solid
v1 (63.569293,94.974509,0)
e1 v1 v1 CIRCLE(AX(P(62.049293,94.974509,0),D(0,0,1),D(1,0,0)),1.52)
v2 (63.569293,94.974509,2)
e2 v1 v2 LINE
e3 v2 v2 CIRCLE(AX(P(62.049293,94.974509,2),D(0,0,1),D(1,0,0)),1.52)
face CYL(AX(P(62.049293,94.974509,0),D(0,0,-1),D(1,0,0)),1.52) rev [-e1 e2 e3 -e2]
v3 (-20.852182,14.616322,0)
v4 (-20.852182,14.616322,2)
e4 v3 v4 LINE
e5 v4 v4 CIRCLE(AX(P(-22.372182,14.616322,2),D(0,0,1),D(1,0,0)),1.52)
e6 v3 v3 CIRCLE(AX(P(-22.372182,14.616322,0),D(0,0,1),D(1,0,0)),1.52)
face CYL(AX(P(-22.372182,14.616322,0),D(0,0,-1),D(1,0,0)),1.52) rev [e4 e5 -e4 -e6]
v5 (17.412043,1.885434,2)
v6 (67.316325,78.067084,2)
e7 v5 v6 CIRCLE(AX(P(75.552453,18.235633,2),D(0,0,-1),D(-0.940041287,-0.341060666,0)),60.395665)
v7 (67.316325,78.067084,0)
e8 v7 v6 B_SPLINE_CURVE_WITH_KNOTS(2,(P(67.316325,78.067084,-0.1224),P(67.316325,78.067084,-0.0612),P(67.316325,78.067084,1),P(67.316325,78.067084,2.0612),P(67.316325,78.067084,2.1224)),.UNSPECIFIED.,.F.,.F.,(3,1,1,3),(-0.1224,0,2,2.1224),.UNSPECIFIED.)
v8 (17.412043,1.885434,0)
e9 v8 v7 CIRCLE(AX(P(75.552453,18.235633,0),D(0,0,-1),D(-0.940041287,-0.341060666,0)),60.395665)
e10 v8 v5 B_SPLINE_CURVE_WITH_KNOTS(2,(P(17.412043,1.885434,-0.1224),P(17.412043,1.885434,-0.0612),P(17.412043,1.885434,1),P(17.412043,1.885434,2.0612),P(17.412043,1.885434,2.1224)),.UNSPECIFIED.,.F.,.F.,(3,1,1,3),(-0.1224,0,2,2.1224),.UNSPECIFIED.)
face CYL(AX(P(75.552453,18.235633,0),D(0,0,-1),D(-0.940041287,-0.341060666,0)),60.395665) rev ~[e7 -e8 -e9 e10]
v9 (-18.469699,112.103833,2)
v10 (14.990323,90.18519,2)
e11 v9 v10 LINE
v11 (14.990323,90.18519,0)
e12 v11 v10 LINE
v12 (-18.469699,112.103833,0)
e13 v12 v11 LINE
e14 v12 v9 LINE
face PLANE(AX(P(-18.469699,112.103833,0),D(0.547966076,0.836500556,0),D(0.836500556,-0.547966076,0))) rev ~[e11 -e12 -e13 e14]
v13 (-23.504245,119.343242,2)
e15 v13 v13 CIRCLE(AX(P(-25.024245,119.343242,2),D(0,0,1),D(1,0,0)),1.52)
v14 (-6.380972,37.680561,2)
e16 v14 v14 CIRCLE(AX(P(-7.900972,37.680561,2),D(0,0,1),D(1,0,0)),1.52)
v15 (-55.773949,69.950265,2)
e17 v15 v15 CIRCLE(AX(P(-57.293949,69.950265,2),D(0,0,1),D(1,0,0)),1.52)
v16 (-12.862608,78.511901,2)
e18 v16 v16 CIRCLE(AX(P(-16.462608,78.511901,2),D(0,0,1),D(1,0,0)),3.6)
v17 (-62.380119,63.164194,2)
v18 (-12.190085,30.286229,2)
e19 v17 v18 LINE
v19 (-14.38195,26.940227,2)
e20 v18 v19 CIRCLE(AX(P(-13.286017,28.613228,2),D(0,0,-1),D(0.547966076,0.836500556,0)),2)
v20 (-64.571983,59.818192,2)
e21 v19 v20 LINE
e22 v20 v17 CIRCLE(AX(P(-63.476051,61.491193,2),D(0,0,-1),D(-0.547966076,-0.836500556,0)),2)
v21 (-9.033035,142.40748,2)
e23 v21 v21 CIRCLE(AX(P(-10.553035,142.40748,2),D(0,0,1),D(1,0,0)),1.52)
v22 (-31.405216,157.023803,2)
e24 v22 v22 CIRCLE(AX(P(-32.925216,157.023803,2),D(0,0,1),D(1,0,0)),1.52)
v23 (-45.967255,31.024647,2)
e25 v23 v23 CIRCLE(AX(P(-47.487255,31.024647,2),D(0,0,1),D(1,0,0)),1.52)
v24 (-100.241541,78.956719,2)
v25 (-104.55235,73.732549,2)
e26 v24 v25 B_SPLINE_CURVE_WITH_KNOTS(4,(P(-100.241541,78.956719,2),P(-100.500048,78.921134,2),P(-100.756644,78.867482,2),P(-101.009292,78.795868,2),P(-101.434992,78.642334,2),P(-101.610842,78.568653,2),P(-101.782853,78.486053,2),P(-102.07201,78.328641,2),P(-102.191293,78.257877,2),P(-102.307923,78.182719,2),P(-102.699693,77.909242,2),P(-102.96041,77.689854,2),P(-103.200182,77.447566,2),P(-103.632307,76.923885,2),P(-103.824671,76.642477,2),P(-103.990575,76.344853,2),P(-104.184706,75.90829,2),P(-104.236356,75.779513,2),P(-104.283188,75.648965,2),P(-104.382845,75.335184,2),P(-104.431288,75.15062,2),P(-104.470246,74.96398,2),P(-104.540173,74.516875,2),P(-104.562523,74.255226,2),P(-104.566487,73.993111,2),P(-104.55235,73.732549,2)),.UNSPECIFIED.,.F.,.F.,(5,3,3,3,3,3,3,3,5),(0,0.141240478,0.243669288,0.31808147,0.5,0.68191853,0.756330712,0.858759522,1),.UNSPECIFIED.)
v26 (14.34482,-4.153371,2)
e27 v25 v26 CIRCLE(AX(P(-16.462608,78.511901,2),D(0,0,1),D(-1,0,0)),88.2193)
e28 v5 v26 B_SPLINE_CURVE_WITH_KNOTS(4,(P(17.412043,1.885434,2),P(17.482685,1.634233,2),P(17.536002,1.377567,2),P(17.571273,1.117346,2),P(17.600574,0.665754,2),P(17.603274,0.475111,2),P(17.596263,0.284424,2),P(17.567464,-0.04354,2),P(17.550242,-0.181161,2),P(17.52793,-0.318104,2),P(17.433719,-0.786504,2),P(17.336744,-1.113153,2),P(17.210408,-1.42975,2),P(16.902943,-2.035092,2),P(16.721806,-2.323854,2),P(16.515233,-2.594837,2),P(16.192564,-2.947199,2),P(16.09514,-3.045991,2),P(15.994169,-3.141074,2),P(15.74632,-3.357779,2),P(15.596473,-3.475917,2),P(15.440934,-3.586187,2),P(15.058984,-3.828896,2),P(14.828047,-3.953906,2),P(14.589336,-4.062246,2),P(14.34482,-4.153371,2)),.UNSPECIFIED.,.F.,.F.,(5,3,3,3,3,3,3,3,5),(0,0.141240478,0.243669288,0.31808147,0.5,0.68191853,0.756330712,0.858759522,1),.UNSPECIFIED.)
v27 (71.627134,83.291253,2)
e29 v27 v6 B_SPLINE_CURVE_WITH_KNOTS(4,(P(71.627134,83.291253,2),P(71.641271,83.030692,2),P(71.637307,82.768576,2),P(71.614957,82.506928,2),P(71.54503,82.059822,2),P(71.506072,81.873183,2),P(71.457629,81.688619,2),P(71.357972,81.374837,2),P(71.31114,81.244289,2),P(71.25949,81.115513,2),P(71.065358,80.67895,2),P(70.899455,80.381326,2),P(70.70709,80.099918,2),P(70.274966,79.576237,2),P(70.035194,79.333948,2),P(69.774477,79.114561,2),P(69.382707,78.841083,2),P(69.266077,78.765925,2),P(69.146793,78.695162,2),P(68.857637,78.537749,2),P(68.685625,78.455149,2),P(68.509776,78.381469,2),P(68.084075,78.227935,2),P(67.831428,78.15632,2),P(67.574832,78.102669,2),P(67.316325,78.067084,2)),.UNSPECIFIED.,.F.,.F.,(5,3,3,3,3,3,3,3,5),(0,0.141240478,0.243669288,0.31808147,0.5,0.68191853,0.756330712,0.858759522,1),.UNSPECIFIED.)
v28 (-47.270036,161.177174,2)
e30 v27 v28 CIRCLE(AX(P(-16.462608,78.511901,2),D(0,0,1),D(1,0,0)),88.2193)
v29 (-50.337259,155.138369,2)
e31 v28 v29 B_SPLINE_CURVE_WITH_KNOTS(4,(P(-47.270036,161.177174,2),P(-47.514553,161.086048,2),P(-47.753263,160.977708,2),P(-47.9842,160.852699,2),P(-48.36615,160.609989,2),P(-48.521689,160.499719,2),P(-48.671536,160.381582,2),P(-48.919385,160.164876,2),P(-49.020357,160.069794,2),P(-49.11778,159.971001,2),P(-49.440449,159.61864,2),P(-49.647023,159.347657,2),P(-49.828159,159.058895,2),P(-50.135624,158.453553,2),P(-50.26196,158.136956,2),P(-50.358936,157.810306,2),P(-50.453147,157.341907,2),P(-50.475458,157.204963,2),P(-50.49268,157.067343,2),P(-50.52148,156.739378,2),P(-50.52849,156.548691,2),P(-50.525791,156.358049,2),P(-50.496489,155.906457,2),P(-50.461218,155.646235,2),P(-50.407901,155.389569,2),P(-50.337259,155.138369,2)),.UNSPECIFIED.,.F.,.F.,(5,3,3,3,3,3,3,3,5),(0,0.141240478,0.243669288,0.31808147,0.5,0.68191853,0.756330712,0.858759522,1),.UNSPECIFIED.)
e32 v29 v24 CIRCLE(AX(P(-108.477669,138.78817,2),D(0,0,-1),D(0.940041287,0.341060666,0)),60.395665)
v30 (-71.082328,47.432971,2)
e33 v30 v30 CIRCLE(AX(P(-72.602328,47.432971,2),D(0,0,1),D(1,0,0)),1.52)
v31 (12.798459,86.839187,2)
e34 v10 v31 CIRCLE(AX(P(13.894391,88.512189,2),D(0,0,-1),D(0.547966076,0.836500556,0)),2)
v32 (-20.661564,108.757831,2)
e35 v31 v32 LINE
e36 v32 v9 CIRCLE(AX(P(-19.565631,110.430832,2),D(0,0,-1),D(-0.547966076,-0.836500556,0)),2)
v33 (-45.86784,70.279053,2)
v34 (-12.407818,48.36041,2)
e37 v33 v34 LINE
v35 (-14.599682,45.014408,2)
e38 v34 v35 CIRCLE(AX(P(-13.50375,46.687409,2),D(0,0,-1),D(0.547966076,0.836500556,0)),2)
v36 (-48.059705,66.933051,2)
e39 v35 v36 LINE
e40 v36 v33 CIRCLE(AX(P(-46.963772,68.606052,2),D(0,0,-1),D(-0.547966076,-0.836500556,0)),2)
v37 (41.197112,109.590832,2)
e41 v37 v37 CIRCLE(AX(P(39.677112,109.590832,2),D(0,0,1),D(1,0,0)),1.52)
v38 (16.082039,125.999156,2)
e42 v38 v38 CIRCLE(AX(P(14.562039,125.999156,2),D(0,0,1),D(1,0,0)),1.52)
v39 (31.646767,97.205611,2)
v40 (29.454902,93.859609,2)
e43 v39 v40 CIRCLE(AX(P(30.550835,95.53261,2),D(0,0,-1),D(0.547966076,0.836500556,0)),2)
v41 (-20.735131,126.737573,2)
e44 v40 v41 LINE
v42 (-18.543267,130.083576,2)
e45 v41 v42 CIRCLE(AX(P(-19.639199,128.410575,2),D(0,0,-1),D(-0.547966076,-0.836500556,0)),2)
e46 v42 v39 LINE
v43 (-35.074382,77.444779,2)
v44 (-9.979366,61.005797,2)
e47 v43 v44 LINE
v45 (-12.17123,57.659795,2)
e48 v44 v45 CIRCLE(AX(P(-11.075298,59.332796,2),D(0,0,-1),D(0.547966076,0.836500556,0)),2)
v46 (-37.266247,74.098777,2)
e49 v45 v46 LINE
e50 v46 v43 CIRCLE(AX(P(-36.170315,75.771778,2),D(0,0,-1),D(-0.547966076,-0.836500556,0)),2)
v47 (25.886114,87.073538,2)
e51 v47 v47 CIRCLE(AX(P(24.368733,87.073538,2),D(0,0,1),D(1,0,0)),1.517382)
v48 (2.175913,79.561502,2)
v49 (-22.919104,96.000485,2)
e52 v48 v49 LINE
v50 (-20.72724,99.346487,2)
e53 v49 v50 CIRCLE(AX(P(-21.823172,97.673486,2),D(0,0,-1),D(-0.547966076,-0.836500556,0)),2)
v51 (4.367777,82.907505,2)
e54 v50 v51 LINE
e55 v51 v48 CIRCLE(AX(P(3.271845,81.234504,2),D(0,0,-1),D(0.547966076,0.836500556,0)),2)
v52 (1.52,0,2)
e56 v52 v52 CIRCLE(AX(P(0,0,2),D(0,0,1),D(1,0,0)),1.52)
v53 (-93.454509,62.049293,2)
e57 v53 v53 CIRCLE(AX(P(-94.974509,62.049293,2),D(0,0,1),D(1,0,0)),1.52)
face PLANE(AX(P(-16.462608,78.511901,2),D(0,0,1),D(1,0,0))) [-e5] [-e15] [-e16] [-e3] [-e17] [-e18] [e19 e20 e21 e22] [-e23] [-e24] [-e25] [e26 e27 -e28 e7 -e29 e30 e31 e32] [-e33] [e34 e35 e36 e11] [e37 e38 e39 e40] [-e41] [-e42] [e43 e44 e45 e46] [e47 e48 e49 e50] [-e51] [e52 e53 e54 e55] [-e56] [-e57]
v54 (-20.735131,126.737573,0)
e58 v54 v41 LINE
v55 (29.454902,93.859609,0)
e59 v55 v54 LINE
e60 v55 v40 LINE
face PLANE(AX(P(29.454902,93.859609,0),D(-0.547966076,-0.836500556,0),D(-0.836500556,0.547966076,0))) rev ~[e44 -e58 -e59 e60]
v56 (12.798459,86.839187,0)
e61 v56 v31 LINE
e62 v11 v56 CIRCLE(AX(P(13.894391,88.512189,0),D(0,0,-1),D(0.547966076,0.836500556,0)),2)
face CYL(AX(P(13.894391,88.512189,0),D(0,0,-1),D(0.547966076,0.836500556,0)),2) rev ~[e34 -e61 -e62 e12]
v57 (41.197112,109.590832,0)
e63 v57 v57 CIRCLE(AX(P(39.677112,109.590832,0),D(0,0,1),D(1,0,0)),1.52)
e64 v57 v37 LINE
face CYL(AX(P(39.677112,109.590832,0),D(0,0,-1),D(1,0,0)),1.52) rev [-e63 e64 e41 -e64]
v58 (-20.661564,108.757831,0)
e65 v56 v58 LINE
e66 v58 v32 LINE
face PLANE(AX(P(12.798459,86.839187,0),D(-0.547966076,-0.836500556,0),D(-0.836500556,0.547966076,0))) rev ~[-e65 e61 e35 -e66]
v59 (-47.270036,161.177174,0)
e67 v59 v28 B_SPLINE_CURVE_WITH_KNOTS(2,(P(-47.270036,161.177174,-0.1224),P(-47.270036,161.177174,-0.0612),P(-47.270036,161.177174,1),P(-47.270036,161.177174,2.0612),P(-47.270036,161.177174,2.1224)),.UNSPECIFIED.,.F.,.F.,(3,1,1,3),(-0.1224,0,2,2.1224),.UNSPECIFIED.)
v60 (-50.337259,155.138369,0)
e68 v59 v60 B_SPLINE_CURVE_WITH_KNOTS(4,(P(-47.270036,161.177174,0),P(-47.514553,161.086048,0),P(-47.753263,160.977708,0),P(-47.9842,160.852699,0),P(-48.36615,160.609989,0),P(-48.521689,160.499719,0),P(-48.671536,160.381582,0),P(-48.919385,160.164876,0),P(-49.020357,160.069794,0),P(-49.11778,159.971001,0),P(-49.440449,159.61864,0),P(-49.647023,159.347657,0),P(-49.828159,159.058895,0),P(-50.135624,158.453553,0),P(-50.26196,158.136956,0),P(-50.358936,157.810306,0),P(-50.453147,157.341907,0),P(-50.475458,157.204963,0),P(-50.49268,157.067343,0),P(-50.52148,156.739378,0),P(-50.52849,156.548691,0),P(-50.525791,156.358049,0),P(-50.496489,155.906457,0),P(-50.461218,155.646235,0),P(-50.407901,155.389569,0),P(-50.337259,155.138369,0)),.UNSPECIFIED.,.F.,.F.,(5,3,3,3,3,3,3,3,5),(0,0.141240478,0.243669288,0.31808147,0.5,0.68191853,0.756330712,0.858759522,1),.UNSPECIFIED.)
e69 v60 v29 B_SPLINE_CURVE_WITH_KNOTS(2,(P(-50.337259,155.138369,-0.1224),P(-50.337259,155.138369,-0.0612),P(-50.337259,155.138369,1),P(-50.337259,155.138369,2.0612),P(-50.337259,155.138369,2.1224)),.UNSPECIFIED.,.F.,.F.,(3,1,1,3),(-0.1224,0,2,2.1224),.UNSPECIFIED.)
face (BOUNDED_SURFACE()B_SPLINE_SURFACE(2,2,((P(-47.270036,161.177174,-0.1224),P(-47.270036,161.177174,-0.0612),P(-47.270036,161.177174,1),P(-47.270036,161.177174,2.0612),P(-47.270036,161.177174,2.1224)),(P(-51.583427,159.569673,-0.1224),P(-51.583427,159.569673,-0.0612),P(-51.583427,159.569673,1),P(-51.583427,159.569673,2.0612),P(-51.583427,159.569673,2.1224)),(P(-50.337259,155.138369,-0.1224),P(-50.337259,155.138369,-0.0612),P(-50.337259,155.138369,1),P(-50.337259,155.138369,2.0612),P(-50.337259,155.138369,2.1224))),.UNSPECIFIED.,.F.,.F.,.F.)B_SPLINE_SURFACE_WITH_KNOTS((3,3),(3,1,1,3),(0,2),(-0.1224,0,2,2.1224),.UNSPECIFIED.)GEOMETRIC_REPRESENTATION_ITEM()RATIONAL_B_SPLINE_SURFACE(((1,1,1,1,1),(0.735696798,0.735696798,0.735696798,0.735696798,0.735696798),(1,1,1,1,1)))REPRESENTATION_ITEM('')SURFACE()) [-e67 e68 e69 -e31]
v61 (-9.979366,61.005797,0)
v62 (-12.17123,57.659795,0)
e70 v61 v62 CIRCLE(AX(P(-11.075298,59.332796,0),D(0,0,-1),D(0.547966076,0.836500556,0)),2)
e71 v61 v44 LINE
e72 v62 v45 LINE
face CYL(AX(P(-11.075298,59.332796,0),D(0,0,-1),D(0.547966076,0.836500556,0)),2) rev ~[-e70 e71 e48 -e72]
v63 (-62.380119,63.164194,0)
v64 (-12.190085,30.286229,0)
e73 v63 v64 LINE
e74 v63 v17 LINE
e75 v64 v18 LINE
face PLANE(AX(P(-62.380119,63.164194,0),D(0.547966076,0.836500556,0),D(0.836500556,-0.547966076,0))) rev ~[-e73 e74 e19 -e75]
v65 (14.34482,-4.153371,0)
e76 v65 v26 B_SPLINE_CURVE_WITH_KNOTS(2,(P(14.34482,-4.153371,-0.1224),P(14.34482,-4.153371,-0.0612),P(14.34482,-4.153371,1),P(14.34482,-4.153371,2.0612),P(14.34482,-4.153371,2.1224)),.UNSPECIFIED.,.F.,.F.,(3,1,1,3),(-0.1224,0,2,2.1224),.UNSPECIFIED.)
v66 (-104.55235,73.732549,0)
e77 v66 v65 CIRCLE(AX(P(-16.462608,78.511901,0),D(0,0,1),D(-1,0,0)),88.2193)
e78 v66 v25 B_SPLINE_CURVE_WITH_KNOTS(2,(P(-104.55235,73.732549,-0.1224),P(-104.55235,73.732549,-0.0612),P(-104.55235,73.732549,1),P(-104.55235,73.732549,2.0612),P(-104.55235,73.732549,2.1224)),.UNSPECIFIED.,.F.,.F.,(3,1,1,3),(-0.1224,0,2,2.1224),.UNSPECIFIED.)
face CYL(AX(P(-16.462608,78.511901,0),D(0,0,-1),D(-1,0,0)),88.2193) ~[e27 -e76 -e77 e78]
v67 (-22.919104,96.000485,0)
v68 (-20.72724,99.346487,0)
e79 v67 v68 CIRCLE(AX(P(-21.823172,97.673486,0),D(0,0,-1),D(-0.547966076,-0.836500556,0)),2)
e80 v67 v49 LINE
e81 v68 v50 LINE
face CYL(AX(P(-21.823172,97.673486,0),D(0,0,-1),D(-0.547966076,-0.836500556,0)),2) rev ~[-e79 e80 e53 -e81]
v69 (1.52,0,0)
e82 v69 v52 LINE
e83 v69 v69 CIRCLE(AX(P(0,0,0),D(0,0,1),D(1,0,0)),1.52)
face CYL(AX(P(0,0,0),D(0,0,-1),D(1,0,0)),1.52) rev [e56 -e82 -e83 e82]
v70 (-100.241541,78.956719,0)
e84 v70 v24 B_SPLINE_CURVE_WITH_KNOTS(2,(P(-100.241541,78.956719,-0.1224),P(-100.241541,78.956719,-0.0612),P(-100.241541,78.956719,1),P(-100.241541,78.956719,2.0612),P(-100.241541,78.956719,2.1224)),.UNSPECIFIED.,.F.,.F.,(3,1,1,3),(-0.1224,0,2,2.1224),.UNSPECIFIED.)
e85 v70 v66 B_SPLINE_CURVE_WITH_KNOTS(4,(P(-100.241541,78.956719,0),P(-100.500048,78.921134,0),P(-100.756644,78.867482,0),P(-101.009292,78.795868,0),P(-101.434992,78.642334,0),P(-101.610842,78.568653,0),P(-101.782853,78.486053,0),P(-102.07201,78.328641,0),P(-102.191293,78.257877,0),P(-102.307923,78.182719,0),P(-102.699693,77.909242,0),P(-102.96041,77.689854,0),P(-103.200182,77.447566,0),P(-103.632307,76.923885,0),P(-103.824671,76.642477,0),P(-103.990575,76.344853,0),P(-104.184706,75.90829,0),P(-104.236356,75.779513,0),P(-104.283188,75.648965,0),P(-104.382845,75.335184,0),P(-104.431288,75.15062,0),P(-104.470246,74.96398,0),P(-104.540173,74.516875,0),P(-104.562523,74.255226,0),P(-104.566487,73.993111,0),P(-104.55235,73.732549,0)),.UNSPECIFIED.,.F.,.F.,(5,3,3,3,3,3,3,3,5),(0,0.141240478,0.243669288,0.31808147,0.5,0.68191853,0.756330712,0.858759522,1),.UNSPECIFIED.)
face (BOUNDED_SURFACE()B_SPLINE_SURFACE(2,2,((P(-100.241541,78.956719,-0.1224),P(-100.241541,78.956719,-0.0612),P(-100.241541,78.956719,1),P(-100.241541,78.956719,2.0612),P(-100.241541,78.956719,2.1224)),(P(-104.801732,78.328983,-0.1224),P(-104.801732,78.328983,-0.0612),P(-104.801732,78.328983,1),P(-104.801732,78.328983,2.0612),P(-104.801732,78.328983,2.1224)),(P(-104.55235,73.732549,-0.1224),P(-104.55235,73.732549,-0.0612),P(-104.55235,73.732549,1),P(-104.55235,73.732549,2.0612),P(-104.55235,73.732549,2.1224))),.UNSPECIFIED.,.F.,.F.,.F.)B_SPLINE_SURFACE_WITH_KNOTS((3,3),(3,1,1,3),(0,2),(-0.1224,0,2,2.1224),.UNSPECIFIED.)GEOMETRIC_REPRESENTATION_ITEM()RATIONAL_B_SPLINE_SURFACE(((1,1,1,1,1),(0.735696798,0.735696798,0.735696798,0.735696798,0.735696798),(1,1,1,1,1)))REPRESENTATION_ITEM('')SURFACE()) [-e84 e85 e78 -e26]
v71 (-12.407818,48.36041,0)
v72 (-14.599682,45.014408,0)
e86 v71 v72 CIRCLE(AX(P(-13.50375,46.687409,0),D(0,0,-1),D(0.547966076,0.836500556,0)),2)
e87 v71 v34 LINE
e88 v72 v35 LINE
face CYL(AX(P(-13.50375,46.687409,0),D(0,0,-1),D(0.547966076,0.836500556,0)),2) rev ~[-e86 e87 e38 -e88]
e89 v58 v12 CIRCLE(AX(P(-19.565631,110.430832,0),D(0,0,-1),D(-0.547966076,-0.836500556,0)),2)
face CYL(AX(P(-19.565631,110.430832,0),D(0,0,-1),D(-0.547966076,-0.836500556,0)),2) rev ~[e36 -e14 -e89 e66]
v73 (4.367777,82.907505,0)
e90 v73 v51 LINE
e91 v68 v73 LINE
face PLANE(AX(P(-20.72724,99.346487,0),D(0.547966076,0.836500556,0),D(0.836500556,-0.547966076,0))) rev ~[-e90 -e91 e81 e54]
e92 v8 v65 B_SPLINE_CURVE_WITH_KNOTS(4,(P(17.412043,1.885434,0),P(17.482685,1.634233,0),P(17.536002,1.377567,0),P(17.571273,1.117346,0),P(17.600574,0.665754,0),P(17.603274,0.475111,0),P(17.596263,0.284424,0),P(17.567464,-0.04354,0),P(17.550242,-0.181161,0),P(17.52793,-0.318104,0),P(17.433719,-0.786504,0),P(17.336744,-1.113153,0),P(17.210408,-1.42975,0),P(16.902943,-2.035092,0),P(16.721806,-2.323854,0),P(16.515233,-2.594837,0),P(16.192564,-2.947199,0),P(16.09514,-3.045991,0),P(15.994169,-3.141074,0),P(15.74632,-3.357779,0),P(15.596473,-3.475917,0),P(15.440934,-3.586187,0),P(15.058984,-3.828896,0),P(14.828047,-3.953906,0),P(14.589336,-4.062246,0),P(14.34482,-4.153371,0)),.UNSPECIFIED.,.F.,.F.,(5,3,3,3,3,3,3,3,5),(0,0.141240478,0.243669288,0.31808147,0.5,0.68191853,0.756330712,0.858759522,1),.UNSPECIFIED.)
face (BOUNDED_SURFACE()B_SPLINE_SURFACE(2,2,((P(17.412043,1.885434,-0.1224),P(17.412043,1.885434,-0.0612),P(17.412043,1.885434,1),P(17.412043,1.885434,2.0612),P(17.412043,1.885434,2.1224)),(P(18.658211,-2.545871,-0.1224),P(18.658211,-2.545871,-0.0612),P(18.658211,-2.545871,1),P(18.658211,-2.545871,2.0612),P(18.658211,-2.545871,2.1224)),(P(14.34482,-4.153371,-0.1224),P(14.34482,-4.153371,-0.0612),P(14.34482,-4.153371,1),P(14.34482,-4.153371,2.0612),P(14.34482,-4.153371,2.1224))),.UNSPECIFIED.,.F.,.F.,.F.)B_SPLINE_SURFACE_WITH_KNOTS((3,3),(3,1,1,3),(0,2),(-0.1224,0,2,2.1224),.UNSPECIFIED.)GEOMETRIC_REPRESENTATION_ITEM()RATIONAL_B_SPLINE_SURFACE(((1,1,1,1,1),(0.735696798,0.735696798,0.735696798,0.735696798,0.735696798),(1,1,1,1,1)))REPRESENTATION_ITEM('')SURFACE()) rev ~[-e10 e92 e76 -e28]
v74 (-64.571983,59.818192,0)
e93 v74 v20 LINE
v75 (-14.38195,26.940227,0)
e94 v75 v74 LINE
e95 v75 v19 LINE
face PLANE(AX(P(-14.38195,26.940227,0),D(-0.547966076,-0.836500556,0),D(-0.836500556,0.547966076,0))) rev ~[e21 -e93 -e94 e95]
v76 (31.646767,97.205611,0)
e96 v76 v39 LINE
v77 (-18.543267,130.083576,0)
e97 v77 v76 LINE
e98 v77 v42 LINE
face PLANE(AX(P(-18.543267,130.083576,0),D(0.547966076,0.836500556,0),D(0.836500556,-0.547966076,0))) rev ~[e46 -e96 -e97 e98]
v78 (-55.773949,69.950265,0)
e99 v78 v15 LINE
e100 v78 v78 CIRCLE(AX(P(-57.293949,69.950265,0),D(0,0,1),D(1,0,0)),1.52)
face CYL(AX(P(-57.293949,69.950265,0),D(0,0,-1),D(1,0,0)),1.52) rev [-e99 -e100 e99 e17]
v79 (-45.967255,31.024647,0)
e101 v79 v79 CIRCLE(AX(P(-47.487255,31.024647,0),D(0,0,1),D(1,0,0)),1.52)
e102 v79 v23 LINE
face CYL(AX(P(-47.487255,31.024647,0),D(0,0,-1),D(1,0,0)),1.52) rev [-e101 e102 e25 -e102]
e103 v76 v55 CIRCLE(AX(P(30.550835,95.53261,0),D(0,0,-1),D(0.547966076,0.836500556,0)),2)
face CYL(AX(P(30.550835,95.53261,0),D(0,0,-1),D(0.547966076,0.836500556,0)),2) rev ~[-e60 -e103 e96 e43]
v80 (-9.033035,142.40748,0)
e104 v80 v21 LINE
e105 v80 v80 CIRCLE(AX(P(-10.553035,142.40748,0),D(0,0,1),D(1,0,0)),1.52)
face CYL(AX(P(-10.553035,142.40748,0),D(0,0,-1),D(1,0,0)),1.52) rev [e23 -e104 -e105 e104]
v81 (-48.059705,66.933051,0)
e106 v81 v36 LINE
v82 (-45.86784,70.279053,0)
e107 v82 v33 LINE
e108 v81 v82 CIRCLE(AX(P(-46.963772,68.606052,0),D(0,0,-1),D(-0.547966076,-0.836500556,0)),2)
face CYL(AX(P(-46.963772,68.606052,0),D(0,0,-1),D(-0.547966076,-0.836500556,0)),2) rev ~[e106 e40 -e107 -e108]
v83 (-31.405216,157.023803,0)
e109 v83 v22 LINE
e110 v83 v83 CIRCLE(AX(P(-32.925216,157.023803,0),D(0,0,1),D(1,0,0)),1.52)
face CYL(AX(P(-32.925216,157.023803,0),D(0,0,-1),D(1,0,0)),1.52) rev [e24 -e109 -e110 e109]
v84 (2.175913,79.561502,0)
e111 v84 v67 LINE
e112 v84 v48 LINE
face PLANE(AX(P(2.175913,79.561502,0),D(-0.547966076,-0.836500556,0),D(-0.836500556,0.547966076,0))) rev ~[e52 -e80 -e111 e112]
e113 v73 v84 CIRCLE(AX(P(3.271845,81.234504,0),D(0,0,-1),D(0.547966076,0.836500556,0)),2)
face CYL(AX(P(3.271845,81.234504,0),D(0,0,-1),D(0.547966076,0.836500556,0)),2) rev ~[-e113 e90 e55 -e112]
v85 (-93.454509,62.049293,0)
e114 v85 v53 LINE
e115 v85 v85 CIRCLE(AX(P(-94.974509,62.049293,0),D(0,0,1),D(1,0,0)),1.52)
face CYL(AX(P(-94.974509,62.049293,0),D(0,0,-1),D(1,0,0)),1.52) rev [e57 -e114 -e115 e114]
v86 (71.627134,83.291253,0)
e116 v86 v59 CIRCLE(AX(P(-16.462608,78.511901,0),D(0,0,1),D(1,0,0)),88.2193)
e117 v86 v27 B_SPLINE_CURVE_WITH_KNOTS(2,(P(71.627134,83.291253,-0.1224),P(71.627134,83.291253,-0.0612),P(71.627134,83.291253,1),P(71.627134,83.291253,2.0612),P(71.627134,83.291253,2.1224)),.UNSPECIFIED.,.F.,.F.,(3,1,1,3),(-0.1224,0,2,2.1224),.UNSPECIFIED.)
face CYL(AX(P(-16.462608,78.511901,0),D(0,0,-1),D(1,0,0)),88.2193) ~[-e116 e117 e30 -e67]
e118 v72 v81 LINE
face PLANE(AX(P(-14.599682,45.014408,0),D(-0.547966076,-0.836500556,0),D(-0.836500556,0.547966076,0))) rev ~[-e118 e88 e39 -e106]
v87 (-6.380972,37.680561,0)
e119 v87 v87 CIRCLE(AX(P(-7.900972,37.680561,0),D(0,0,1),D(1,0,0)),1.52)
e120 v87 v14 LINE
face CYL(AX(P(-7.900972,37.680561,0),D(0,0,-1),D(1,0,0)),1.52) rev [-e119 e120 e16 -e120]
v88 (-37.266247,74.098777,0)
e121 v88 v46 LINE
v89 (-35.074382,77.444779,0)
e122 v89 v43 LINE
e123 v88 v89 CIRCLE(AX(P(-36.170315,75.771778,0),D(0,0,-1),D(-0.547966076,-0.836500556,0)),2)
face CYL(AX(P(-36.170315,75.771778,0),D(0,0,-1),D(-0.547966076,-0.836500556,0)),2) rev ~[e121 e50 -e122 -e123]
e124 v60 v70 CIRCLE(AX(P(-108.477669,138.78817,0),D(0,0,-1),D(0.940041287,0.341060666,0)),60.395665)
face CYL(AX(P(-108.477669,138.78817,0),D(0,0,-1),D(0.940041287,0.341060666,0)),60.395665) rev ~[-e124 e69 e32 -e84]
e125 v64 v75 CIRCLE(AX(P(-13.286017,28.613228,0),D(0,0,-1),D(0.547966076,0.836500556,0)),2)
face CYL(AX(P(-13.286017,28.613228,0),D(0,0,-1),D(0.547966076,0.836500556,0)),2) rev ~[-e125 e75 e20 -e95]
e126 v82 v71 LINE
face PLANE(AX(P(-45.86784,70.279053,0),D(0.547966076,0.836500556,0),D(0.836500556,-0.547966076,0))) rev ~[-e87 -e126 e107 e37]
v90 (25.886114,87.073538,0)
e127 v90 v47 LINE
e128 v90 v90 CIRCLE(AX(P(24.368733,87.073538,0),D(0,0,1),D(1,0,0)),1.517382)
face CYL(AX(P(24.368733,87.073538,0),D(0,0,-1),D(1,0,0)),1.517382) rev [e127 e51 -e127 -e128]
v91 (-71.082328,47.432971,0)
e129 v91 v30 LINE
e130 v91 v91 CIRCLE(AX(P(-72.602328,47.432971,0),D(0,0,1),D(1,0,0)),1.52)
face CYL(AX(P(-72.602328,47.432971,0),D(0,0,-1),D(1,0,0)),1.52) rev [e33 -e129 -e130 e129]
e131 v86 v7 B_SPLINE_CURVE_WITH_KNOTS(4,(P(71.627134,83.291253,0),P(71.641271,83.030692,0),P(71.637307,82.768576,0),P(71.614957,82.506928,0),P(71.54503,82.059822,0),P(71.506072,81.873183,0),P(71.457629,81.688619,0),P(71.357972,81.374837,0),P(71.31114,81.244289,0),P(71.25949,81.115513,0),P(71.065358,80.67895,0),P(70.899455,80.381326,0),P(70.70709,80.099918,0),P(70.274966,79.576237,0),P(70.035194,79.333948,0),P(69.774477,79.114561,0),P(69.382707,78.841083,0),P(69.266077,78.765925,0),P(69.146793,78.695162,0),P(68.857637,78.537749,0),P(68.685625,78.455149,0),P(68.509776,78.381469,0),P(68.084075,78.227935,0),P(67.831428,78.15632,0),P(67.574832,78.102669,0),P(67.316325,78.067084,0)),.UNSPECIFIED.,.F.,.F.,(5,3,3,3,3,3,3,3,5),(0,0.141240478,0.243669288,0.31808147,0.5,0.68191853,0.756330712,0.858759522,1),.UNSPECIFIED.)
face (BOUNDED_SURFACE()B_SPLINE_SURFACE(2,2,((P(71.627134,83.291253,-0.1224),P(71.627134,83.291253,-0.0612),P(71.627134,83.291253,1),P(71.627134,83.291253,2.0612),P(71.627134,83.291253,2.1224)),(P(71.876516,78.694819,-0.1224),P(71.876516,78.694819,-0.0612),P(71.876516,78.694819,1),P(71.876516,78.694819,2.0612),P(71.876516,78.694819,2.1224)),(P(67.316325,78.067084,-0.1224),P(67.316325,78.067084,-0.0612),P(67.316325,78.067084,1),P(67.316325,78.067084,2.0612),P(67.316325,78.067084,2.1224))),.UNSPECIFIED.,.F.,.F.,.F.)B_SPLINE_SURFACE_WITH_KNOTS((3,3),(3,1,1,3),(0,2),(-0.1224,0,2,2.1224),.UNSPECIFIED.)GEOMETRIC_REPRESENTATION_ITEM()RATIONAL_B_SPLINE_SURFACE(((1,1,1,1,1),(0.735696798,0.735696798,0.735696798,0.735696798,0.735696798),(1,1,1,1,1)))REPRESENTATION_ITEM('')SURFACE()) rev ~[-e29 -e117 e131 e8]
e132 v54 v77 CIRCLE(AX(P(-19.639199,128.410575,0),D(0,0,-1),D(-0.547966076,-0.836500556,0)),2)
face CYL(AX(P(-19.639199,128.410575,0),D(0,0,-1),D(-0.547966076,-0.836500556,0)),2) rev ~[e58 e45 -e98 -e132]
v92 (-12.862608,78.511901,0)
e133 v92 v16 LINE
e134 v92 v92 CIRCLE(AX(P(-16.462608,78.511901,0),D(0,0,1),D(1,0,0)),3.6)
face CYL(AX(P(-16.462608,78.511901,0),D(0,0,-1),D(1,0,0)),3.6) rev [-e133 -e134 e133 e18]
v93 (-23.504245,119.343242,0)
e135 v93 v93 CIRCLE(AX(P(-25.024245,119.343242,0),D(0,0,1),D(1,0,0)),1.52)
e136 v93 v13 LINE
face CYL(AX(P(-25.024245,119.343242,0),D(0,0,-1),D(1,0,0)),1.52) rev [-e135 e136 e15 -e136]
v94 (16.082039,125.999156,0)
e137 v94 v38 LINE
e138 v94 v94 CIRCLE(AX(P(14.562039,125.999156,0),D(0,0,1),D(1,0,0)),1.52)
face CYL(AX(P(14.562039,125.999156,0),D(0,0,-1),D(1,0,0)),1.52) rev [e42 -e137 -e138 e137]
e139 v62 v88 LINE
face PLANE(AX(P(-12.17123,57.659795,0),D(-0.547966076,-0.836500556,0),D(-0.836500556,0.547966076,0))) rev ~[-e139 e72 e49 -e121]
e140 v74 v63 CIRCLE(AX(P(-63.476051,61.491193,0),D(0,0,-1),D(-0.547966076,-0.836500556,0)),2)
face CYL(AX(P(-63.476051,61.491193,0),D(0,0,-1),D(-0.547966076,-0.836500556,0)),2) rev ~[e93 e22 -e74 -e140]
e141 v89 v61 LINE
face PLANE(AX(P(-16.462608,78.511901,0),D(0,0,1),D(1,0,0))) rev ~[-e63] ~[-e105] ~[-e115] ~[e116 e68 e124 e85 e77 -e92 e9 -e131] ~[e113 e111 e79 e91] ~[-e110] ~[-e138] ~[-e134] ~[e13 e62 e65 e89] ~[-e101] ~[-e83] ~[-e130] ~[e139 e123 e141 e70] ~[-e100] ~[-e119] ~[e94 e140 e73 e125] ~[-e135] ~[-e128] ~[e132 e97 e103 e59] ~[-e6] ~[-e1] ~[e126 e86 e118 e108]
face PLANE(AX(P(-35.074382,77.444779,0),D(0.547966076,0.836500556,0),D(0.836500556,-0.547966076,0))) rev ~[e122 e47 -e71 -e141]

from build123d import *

# Parameters (mm, degrees)
SKETCH_1_R      = 1.52
SKETCH_1_R_2    = 1.519999991
SKETCH_1_R_3    = 1.520000009
SKETCH_1_R_4    = 1.520000002
SKETCH_1_R_5    = 3.6
SKETCH_1_R_6    = 1.517381685
SKETCH_1_R_7    = 1.519999997
EXTRUDE_1_DEPTH = 2
FILLET_1_R      = 5


with BuildPart() as part:
    # 草图1 → 凸台-拉伸1 (new body)
    with BuildSketch(Plane.XY):
        with BuildLine():
            ThreePointArc((71.75669201, 78.511901277), (31.878575622, 152.307394815), (-51.703250679, 159.386755327))
            ThreePointArc((-51.703250679, 159.386755327), (-57.956662012, 105.693394177), (-104.68190817, 78.511901277))
            ThreePointArc((-104.68190817, 78.511901277), (-64.803791783, 4.716407738), (18.778034519, -2.362952773))
            ThreePointArc((18.778034519, -2.362952773), (25.031445851, 51.330408377), (71.75669201, 78.511901277))
        make_face()
        with Locations((-94.974509357, 62.049293197)):
            Circle(SKETCH_1_R, mode=Mode.SUBTRACT)
        Circle(SKETCH_1_R, mode=Mode.SUBTRACT)
        with Locations((-32.925216161, 157.023802554)):
            Circle(SKETCH_1_R, mode=Mode.SUBTRACT)
        with Locations((62.049293197, 94.974509357)):
            Circle(SKETCH_1_R, mode=Mode.SUBTRACT)
        with Locations((-47.487254679, 31.024646598)):
            Circle(SKETCH_1_R_2, mode=Mode.SUBTRACT)
        with Locations((-22.372181549, 14.61632244)):
            Circle(SKETCH_1_R_3, mode=Mode.SUBTRACT)
        with Locations((-72.602327809, 47.432970756)):
            Circle(SKETCH_1_R_3, mode=Mode.SUBTRACT)
        with BuildLine():
            ThreePointArc((-12.190085291, 30.286229165), (-11.613016331, 27.517295901), (-14.381949595, 26.940226942))
            Line((-14.381949595, 26.940226942), (-64.57198293, 59.818191506))
            ThreePointArc((-64.57198293, 59.818191506), (-65.149051889, 62.587124769), (-62.380118626, 63.164193728))
            Line((-62.380118626, 63.164193728), (-12.190085291, 30.286229165))
        make_face(mode=Mode.SUBTRACT)
        with Locations((-57.293948747, 69.950264788)):
            Circle(SKETCH_1_R_4, mode=Mode.SUBTRACT)
        with BuildLine():
            ThreePointArc((-12.40781803, 48.360410386), (-11.830749071, 45.591477123), (-14.599682334, 45.014408164))
            Line((-14.599682334, 45.014408164), (-48.059704557, 66.933051206))
            ThreePointArc((-48.059704557, 66.933051206), (-48.636773516, 69.70198447), (-45.867840253, 70.279053429))
            Line((-45.867840253, 70.279053429), (-12.40781803, 48.360410386))
        make_face(mode=Mode.SUBTRACT)
        with BuildLine():
            ThreePointArc((-9.979365756, 61.005797168), (-9.402296797, 58.236863905), (-12.17123006, 57.659794946))
            Line((-12.17123006, 57.659794946), (-37.266246728, 74.098777228))
            ThreePointArc((-37.266246728, 74.098777228), (-37.843315687, 76.867710491), (-35.074382424, 77.44477945))
            Line((-35.074382424, 77.44477945), (-9.979365756, 61.005797168))
        make_face(mode=Mode.SUBTRACT)
        with Locations((-7.900971591, 37.68056061)):
            Circle(SKETCH_1_R, mode=Mode.SUBTRACT)
        with Locations((-25.024244569, 119.343241944)):
            Circle(SKETCH_1_R, mode=Mode.SUBTRACT)
        with Locations((-16.46260808, 78.511901277)):
            Circle(SKETCH_1_R_5, mode=Mode.SUBTRACT)
        with BuildLine():
            Line((-20.727239862, 99.346486961), (4.367776805, 82.907504679))
            ThreePointArc((4.367776805, 82.907504679), (4.944845764, 80.138571416), (2.175912501, 79.561502457))
            Line((2.175912501, 79.561502457), (-22.919104167, 96.000484738))
            ThreePointArc((-22.919104167, 96.000484738), (-23.496173126, 98.769418002), (-20.727239862, 99.346486961))
        make_face(mode=Mode.SUBTRACT)
        with BuildLine():
            Line((-18.469699209, 112.103832748), (14.990323014, 90.185189705))
            ThreePointArc((14.990323014, 90.185189705), (15.567391973, 87.416256442), (12.79845871, 86.839187483))
            Line((12.79845871, 86.839187483), (-20.661563513, 108.757830525))
            ThreePointArc((-20.661563513, 108.757830525), (-21.238632472, 111.526763789), (-18.469699209, 112.103832748))
        make_face(mode=Mode.SUBTRACT)
        with Locations((24.368732586, 87.073537766)):
            Circle(SKETCH_1_R_6, mode=Mode.SUBTRACT)
        with BuildLine():
            Line((-18.543266566, 130.083575612), (31.646766769, 97.205611048))
            ThreePointArc((31.646766769, 97.205611048), (32.223835728, 94.436677785), (29.454902465, 93.859608826))
            Line((29.454902465, 93.859608826), (-20.73513087, 126.737573389))
            ThreePointArc((-20.73513087, 126.737573389), (-21.312199829, 129.506506653), (-18.543266566, 130.083575612))
        make_face(mode=Mode.SUBTRACT)
        with Locations((39.677111648, 109.590831797)):
            Circle(SKETCH_1_R_3, mode=Mode.SUBTRACT)
        with Locations((-10.553034612, 142.407480114)):
            Circle(SKETCH_1_R_3, mode=Mode.SUBTRACT)
        with Locations((14.562038518, 125.999155956)):
            Circle(SKETCH_1_R_7, mode=Mode.SUBTRACT)
    extrude(amount=EXTRUDE_1_DEPTH)

    # 圆角1
    fillet_1_edges = [part.edges().sort_by_distance(p)[0] for p in [
        (71.75669201, 78.511901277, 1),
        (18.778034519, -2.362952773, 1),
        (-104.68190817, 78.511901277, 1),
        (-51.703250679, 159.386755327, 1),
    ]]
    fillet(fillet_1_edges, radius=FILLET_1_R)


solid = part.part
